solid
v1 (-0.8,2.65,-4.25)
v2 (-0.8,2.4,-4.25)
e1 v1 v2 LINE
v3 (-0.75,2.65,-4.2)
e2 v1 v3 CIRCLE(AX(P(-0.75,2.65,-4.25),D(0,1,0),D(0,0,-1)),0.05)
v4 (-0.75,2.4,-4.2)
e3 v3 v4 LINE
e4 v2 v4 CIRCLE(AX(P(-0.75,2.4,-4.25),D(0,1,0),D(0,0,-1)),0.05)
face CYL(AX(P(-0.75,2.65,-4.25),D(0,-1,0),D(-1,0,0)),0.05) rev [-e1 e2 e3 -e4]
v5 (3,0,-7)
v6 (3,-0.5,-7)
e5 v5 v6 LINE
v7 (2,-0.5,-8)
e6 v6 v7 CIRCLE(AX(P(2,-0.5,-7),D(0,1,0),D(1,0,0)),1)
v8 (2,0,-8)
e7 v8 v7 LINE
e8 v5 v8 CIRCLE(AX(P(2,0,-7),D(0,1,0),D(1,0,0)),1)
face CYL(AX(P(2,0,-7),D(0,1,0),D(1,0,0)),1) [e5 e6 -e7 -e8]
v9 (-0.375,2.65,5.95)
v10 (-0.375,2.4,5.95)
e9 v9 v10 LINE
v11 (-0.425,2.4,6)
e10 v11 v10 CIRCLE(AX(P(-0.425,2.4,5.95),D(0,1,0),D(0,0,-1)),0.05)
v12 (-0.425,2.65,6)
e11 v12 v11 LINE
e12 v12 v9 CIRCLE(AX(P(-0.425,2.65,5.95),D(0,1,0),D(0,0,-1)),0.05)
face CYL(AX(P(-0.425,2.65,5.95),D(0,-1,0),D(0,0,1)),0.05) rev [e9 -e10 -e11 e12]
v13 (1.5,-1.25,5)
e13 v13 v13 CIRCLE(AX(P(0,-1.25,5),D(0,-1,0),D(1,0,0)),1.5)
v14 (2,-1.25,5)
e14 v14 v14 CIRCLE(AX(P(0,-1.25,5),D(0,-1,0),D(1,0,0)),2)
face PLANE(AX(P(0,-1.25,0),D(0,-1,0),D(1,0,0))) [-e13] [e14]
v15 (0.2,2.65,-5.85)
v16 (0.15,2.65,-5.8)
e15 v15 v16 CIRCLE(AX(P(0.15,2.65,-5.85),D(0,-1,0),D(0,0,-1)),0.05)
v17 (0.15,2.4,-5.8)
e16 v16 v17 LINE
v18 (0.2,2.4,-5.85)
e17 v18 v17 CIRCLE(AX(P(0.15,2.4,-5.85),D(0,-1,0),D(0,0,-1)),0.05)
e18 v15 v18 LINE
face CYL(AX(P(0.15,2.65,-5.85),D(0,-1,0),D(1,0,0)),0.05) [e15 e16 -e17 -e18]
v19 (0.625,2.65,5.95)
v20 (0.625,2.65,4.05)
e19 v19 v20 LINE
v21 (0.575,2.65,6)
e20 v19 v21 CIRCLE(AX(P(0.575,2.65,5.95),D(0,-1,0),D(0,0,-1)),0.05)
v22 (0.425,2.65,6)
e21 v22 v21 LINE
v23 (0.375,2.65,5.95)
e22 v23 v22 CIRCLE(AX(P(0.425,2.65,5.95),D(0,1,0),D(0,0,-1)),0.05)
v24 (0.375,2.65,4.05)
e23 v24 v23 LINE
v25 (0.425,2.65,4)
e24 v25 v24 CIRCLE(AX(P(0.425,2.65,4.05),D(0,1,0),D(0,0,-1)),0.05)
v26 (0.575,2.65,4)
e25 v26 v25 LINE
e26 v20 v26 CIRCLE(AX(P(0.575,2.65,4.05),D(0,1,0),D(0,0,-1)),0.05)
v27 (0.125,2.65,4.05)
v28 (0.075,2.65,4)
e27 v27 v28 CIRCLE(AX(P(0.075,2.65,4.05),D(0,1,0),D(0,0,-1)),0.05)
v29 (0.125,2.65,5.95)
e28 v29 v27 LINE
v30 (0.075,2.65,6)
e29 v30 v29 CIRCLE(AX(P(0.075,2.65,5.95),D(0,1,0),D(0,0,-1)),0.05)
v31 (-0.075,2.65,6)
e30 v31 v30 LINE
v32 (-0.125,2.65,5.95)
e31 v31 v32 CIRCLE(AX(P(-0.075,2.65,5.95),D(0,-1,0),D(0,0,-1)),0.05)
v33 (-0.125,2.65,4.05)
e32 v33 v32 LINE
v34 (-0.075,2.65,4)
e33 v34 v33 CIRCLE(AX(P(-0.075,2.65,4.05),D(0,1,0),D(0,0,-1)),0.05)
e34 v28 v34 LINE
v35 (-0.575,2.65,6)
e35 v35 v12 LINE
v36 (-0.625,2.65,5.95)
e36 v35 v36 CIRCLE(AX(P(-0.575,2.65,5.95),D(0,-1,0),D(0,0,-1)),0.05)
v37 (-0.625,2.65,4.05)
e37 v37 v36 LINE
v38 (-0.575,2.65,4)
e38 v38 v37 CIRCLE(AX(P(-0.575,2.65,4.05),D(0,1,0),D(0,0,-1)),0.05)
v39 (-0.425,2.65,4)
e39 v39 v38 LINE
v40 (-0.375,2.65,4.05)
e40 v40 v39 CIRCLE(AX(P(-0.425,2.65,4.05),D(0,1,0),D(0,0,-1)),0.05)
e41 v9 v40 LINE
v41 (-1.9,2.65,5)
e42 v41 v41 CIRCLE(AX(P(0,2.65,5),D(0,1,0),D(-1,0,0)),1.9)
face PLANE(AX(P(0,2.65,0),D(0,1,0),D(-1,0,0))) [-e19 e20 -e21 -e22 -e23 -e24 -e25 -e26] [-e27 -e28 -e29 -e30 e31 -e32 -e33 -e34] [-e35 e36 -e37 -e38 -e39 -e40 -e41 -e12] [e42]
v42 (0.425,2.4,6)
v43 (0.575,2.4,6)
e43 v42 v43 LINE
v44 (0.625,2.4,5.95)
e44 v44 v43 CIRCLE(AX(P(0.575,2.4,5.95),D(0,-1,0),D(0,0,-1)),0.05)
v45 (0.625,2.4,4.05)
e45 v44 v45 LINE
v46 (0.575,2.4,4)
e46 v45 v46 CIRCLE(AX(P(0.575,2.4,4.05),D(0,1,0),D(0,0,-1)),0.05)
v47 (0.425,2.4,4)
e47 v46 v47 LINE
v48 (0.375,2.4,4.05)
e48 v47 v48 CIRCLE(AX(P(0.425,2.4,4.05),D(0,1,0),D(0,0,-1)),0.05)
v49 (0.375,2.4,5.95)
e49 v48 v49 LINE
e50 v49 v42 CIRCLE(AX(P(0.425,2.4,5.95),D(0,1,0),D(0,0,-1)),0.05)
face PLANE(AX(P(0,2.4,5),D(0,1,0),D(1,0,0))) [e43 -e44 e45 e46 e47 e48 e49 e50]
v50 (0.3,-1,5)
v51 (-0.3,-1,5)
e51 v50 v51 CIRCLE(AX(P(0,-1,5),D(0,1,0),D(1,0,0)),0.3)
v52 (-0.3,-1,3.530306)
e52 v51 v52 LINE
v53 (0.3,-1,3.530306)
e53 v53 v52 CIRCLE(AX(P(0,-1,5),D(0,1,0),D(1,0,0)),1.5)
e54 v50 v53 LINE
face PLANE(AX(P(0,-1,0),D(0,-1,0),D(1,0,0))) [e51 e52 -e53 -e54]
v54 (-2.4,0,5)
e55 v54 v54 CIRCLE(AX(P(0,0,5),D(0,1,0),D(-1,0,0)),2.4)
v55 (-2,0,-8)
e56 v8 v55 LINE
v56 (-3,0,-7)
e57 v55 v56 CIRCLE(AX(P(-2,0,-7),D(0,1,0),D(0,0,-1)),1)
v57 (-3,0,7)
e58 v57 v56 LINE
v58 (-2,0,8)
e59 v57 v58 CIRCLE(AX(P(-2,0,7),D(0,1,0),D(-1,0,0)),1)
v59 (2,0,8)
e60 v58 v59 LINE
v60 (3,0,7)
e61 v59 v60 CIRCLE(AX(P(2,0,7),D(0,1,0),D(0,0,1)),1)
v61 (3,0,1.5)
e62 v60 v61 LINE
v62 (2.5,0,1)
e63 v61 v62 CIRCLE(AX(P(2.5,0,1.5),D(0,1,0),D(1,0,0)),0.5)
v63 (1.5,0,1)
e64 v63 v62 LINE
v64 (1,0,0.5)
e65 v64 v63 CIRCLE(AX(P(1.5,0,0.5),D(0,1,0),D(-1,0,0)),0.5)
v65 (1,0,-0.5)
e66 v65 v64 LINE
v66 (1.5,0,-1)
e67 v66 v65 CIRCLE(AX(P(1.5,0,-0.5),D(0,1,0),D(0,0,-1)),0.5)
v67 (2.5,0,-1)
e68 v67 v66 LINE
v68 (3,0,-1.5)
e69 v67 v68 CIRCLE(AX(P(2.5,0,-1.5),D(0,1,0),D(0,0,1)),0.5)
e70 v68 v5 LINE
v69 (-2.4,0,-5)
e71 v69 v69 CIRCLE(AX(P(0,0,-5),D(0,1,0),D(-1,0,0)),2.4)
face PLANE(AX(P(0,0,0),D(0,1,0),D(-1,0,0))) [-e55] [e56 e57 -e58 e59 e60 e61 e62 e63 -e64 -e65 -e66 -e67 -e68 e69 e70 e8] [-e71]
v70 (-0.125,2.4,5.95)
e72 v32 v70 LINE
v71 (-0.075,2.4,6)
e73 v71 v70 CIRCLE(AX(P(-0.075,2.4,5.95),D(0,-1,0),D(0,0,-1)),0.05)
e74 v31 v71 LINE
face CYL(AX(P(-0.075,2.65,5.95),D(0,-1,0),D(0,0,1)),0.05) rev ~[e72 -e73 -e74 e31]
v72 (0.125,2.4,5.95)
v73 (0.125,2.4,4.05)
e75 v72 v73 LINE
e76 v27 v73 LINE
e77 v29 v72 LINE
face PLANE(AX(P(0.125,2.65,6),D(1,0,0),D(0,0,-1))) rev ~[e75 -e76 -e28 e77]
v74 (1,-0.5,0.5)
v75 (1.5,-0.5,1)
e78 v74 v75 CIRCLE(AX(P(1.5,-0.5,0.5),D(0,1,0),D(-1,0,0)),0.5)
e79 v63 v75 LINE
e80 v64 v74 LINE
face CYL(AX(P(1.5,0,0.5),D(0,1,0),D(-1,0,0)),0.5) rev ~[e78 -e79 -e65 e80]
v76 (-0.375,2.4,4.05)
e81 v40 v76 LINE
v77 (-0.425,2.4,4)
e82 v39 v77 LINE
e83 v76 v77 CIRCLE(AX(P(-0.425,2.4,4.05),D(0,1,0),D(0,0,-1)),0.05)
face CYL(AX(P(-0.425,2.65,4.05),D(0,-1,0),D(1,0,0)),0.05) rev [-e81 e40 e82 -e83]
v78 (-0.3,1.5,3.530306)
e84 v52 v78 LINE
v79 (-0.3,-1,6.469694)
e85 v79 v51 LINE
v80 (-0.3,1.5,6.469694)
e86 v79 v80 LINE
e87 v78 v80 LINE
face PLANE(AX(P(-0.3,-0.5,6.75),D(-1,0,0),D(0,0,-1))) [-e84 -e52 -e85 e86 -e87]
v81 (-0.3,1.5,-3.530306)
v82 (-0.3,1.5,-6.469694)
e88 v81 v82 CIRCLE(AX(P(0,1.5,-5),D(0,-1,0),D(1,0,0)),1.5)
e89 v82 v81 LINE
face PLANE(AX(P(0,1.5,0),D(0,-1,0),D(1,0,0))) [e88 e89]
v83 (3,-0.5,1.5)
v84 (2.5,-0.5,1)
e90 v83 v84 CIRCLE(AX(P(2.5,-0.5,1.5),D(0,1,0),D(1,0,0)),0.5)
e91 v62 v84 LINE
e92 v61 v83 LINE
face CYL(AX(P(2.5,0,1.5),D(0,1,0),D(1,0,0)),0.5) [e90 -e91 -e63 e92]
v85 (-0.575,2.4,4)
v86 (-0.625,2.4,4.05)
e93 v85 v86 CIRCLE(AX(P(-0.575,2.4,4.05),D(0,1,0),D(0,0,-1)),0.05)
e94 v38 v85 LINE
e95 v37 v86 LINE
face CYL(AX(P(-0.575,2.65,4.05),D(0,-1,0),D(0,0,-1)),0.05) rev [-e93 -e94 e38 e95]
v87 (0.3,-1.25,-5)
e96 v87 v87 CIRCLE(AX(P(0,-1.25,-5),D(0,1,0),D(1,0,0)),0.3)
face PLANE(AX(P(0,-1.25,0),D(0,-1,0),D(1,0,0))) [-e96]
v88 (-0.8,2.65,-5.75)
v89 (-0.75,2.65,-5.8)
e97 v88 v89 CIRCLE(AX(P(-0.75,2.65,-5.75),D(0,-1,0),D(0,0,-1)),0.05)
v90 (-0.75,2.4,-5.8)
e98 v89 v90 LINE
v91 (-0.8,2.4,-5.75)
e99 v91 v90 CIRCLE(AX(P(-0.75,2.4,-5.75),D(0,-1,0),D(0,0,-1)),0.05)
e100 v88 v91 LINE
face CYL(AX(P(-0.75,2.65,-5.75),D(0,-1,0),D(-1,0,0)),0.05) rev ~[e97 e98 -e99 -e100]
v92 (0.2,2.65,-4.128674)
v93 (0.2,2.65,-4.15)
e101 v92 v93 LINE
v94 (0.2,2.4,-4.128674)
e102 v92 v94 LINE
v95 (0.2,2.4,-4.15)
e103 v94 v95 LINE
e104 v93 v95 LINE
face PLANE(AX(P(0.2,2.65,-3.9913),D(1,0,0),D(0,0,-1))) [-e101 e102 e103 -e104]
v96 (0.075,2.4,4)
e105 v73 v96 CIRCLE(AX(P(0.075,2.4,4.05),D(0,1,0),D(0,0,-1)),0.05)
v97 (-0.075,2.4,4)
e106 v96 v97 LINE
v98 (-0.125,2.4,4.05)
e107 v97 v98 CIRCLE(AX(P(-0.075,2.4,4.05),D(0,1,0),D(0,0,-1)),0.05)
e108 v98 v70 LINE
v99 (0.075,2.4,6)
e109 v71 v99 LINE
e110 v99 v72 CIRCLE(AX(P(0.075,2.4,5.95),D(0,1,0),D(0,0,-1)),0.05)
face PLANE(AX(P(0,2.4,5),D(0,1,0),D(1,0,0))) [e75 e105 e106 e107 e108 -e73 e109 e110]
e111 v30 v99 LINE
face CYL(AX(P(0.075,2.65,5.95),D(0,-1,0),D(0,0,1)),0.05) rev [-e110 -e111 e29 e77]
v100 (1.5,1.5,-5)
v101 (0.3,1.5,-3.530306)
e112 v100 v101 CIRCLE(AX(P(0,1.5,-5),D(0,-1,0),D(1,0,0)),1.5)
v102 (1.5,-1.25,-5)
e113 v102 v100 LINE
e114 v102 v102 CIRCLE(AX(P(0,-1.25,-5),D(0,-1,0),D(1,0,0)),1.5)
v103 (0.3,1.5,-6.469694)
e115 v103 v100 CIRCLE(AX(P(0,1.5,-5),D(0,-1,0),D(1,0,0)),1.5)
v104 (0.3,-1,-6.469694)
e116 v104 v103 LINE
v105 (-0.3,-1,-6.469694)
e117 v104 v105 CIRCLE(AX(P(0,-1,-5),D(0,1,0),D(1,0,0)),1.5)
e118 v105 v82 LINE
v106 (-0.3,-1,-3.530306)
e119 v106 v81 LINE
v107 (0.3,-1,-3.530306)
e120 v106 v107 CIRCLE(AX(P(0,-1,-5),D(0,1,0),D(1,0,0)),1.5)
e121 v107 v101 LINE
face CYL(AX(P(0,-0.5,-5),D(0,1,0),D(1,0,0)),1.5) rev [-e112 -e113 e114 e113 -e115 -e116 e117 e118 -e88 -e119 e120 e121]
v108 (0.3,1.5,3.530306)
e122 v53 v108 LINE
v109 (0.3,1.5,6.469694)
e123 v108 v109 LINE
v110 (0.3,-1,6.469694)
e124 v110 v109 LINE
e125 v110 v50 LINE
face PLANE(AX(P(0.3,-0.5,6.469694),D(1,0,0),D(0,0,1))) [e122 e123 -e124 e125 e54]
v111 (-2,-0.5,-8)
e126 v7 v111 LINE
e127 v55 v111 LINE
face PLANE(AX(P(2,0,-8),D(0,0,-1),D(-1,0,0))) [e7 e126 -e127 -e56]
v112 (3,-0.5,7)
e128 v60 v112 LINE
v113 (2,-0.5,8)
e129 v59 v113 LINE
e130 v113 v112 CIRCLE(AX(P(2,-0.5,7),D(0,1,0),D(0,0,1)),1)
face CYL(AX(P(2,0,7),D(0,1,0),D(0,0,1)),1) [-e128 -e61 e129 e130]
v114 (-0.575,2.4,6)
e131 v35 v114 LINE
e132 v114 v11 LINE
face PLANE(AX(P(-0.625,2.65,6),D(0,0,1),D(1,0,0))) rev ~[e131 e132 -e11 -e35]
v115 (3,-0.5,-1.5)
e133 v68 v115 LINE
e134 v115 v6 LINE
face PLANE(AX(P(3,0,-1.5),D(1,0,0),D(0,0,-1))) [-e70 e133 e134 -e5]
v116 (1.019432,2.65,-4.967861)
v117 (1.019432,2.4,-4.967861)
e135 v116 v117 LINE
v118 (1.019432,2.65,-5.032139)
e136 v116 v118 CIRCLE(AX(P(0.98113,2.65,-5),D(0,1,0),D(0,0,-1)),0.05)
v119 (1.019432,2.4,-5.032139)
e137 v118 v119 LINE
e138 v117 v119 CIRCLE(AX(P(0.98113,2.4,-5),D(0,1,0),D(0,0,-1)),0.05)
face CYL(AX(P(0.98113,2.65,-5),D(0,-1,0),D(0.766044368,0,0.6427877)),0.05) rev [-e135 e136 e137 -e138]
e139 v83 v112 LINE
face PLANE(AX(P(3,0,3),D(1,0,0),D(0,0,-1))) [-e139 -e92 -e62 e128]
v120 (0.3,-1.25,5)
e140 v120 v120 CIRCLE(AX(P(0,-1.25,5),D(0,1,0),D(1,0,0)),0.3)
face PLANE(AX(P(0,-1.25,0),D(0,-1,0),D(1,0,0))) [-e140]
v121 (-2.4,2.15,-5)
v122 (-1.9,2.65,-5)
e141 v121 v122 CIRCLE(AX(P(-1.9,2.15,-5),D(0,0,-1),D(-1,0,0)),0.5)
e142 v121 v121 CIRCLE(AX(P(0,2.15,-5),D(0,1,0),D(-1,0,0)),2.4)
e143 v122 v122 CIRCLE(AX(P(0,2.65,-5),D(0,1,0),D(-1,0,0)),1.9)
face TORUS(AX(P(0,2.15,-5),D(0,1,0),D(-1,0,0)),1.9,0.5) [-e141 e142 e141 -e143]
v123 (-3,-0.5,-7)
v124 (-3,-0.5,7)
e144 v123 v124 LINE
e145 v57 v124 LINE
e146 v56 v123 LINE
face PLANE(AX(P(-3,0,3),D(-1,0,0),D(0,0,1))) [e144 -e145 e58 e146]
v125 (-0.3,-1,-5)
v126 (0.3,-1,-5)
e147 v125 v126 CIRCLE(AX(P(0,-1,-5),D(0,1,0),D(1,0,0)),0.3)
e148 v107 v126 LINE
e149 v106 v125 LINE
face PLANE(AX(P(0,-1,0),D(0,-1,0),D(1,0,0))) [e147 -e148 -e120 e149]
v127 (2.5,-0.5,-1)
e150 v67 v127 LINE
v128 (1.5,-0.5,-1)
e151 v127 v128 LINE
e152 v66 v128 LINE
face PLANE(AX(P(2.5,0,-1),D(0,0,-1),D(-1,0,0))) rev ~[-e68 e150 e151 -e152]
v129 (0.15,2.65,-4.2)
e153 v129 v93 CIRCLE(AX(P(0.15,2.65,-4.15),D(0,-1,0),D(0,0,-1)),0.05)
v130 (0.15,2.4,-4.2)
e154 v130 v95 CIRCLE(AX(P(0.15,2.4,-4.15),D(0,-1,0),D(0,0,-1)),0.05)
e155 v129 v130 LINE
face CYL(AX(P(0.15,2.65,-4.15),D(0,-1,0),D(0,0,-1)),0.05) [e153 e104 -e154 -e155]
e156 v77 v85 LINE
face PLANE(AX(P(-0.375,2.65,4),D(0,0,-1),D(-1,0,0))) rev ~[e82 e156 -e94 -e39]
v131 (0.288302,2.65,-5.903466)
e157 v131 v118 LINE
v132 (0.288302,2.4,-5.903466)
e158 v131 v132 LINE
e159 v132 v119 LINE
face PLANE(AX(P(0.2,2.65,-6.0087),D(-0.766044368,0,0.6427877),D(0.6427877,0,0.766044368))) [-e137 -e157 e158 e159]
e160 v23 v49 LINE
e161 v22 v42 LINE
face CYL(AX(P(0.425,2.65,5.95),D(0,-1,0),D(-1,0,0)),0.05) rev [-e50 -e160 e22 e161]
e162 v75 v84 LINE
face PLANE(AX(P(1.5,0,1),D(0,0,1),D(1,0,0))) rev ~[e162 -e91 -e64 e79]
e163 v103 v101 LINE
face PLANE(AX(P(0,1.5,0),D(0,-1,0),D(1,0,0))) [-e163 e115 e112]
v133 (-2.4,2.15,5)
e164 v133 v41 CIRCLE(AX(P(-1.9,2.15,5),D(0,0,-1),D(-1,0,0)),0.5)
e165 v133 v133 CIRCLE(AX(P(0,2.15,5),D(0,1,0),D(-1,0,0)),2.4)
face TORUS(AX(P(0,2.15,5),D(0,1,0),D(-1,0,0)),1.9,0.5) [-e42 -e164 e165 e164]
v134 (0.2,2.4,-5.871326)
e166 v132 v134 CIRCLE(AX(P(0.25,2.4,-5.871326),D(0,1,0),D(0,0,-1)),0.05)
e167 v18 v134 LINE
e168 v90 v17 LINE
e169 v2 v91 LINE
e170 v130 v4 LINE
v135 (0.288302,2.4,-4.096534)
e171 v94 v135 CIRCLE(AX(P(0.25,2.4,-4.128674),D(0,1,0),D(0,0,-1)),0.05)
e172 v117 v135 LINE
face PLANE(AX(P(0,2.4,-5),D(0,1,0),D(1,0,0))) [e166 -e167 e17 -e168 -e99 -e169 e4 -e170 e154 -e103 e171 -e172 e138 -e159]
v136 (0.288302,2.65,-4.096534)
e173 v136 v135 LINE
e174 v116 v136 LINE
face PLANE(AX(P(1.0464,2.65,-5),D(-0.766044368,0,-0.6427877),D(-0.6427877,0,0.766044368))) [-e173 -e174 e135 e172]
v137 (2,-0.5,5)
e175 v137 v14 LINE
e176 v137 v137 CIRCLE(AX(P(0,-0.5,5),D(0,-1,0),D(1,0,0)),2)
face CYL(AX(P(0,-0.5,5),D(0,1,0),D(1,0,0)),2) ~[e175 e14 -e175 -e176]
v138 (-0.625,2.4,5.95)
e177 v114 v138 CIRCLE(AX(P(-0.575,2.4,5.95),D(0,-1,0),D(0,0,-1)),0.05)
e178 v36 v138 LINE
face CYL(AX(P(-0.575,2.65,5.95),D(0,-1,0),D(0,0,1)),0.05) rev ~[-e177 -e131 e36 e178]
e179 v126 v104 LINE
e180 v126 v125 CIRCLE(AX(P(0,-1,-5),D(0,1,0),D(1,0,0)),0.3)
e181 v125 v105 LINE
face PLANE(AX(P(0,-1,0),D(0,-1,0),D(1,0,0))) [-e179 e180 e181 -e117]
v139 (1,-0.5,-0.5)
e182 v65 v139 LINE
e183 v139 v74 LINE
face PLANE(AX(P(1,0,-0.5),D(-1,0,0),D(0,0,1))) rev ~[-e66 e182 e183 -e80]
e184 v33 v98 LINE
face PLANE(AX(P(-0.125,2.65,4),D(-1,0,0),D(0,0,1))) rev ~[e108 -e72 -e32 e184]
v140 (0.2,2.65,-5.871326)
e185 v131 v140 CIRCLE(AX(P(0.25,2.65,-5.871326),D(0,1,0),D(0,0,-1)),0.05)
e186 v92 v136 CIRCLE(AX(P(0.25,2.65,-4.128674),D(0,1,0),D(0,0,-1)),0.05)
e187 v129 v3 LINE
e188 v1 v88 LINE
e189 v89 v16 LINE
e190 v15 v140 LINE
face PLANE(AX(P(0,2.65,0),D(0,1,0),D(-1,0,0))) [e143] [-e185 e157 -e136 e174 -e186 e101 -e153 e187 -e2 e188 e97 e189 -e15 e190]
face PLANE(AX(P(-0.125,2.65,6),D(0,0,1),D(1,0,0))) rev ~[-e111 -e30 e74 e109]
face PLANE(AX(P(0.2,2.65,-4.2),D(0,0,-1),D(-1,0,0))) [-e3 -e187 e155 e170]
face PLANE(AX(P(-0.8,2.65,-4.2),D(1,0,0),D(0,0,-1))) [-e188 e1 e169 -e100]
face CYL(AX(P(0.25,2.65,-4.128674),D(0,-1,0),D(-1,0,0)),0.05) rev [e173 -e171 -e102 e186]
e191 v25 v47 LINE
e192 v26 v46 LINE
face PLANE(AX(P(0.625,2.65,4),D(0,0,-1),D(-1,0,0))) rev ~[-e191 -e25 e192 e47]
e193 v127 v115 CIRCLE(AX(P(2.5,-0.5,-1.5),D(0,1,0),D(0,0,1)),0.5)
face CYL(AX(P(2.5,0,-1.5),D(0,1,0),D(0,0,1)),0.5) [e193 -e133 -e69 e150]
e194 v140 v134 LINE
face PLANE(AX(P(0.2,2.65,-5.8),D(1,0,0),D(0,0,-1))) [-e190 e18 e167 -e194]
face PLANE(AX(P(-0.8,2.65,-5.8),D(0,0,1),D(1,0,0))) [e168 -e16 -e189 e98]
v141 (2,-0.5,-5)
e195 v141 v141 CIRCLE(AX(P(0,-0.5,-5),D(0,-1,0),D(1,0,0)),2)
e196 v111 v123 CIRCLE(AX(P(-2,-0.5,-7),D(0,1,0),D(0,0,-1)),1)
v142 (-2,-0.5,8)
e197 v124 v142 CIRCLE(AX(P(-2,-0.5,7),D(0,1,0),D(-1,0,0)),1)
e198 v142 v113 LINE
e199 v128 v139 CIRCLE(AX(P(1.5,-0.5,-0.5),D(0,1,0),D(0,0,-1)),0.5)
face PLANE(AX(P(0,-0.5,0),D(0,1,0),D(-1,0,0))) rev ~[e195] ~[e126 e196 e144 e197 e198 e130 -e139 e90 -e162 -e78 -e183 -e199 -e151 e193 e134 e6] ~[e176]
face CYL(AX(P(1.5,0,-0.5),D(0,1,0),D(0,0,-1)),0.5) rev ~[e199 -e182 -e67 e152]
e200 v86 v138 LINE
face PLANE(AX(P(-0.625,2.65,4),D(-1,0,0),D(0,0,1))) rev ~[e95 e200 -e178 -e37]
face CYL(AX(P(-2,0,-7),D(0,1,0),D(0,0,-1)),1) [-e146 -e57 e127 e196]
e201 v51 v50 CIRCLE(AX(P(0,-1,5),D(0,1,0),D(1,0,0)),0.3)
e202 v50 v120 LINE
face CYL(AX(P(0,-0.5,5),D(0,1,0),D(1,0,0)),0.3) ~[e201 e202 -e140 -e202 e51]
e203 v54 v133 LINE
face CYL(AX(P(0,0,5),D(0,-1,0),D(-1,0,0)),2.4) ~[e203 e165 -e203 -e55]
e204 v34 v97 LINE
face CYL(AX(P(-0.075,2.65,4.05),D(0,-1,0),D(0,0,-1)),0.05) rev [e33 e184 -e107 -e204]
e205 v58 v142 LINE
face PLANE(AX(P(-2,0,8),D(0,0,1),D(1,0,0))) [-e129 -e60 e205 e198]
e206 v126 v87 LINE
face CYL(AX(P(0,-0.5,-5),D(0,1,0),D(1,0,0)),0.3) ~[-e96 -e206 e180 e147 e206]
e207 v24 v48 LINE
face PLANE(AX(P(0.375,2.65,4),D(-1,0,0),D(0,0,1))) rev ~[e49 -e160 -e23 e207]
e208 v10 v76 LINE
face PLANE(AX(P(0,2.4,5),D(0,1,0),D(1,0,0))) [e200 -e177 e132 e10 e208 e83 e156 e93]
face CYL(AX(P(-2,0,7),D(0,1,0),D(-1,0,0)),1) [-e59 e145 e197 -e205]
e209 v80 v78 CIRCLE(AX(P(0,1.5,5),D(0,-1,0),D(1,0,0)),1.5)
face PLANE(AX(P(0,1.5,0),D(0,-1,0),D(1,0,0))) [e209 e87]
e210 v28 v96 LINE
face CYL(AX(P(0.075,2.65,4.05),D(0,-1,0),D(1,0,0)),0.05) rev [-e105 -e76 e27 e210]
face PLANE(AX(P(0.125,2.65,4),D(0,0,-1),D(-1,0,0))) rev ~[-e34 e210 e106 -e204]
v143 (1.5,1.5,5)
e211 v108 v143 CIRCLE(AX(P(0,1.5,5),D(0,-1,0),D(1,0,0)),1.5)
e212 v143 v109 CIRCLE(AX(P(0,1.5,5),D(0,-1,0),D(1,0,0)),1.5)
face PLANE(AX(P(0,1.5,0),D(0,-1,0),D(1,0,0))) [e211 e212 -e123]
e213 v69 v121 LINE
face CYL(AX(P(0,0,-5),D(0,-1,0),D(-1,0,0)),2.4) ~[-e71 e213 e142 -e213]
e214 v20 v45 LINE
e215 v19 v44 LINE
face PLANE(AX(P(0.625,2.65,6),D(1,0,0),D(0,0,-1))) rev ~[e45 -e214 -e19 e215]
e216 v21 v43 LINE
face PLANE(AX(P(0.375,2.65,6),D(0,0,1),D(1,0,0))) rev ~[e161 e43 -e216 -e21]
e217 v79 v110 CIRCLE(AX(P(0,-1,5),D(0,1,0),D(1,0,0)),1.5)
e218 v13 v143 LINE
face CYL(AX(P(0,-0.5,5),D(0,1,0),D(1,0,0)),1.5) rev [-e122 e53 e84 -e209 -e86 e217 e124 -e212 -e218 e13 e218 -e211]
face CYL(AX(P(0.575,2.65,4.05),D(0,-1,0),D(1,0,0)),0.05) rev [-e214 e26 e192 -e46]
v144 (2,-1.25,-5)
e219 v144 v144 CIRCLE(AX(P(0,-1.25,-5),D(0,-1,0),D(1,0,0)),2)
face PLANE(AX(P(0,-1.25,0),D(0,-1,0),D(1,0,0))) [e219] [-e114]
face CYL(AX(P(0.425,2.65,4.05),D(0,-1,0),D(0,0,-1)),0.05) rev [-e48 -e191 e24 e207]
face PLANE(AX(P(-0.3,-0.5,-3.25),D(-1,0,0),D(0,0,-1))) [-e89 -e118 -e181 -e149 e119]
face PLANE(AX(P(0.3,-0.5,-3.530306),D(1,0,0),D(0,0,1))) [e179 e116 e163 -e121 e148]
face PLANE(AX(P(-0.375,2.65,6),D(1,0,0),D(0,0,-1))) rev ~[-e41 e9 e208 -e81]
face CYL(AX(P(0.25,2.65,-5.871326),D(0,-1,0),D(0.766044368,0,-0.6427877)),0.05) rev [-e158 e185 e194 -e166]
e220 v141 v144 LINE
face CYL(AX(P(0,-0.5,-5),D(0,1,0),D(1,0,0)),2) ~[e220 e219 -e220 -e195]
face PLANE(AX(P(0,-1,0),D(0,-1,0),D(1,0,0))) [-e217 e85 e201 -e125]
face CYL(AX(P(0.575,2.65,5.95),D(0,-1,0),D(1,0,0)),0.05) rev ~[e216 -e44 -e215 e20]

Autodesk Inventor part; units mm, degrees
ref_plane "YZ Plane" through (0, 0, 0) normal (1, 0, 0) x (0, 1, 0)
ref_plane "XZ Plane" through (0, 0, 0) normal (0, 1, 0) x (-1, 0, 0)
ref_plane "XY Plane" through (0, 0, 0) normal (0, 0, 1) x (1, 0, 0)
sketch "Sketch1" plane through (0, 0, 0) normal (0, 1, 0) x (-1, 0, 0)
  line L0 (2, 8) -> (-2, 8)
  line L1 (-3, 7) -> (-3, 3)
  line L2 (-2, -8) -> (2, -8)
  line L3 (3, -7) -> (3, 7)
  circle A0 centre (0, 5) radius 2.4
  circle A1 centre (0, -5) radius 2.4
  arc A2 (3, 7) -> (2, 8) centre (2, 7) ccw
  arc A3 (-2, 8) -> (-3, 7) centre (-2, 7) ccw
  arc A4 (-3, -7) -> (-2, -8) centre (-2, -7) ccw
  arc A5 (2, -8) -> (3, -7) centre (2, -7) ccw
  line L4 (2, 2) -> (2, 2)
  line L5 (2, -2) -> (2, -2)
  line L6 (-2, 2) -> (-2, 2)
  line L7 (-2, -2) -> (-2, -2)
  line L8 (3, 3) -> (3, 7)
  line L9 (-3, 7) -> (-3, 1.5)
  line L10 (-2.5, -1) -> (-1.5, -1)
  line L11 (-1, -0.5) -> (-1, 0.5)
  line L12 (-1.5, 1) -> (-2.5, 1)
  line L13 (-3, -1.5) -> (-3, -7)
  arc A6 (-2.5, -1) -> (-3, -1.5) centre (-2.5, -1.5) ccw
  arc A7 (-3, 1.5) -> (-2.5, 1) centre (-2.5, 1.5) ccw
  arc A8 (-1.5, -1) -> (-1, -0.5) centre (-1.5, -0.5) ccw
  arc A9 (-1, 0.5) -> (-1.5, 1) centre (-1.5, 0.5) ccw
  point P0 (0, 0)
  point P1 (-3, -8)
  point P2 (-3, 8)
  point P3 (3, -8)
  point P4 (1, -2)
  point P5 (1, 2)
  point P6 (3, -2)
  point P7 (-3, 2)
  point P8 (-1, -2)
  point P9 (-3, -2)
  point P10 (-3, -1)
  point P11 (-1, 1)
  point P12 (-1, -1)
  point P13 (-3, 1)
  dimension "d0" = 6
  dimension "d1" = 16
  dimension "d2" = 4.8
  dimension "d3" = 4.8
  dimension "d5" = 3
  dimension "d6" = 1
  dimension "d7" = 2
  dimension "d8" = 4
  dimension "d9" = 2
  dimension "d70" = 2
  dimension "d71" = 2
  dimension "d72" = 0.5
extrude "Extrusion1" add sketch "Sketch1" against normal blind 0.5 contours A2 L3 A5 L2 A4 L13 A6 L10 A8 L11 A9 L12 A7 L9 L1 A3 L0 | A0 | A1
extrude "Extrusion2" add sketch "Sketch1" along normal blind 2.65 contours A0 | A1
fillet "Fillet1" radius 0.5 2 edges at (2.4, 2.65, 5) (2.4, 2.65, -5)
sketch "Sketch2" plane through (0, -0.5, 0) normal (0, -1, 0) x (1, 0, 0)
  circle A0 centre (0, 5) radius 1.5
  circle A1 centre (0, -5) radius 1.5
  circle A2 centre (0, 5) radius 2
  circle A3 centre (0, -5) radius 2
  point P0 (0, 0)
  dimension "d18" = 3
  dimension "d19" = 3
  dimension "d22" = 4
  dimension "d23" = 4
extrude "Extrusion3" cut sketch "Sketch2" against normal blind 2 contours A0 | A1
extrude "Extrusion4" add sketch "Sketch2" along normal blind 0.75
sketch "Sketch4" plane through (0, -0.5, 0) normal (0, -1, 0) x (1, 0, 0)
  line L0 (0.3, 6.75) -> (-0.3, 6.75)
  line L1 (-0.3, 6.75) -> (-0.3, 3.25)
  line L2 (-0.3, 3.25) -> (0.3, 3.25)
  line L3 (0.3, 3.25) -> (0.3, 6.75)
  line L4 (0.3, -3.25) -> (-0.3, -3.25)
  line L5 (-0.3, -3.25) -> (-0.3, -6.75)
  line L6 (-0.3, -6.75) -> (0.3, -6.75)
  line L7 (0.3, -6.75) -> (0.3, -3.25)
  circle A0 centre (0, 5) radius 1.5 projected
  circle A1 centre (0, -5) radius 1.5 projected
  circle A2 centre (0, 5) radius 0.3
  circle A3 centre (0, -5) radius 0.3
  point P0 (0, 0)
  dimension "d26" = 0.6
  dimension "d27" = 3.5
  dimension "d28" = 0.6
  dimension "d29" = 3.5
  dimension "d32" = 1.2
  dimension "d33" = 1.2
  dimension "d34" = 0.6
  dimension "d35" = 0.6
extrude "Extrusion5" add sketch "Sketch4" against normal blind 2 and the other way blind 0.5 contours L3 A0 L1 L0 | L3 A2 L1 A0 | A2 | L3 A0 L1 A2 | A0 L3 L2 L1 | L7 A1 L5 L4 | L7 A3 L5 A1 | A3 | L7 A1 L5 A3 | A1 L7 L6 L5
extrude "Extrusion6" add sketch "Sketch4" along normal blind 0.75 contours A2 | A3
sketch "Sketch6" plane through (0, 2.65, 5) normal (0, 1, 0) x (1, 0, 0)
  line L0 (0.625, 1) -> (0.375, 1)
  line L1 (0.375, 1) -> (0.375, -1)
  line L2 (0.375, -1) -> (0.625, -1)
  line L3 (0.625, -1) -> (0.625, 1)
  line L4 (0.125, -1) -> (0.125, 1)
  line L5 (0.125, 1) -> (-0.125, 1)
  line L6 (-0.125, 1) -> (-0.125, -1)
  line L7 (-0.125, -1) -> (0.125, -1)
  line L8 (-0.375, -1) -> (-0.375, 1)
  line L9 (-0.375, 1) -> (-0.625, 1)
  line L10 (-0.625, 1) -> (-0.625, -1)
  line L11 (-0.625, -1) -> (-0.375, -1)
  point P0 (0, 5)
  point P1 (0, 0)
  dimension "d47" = 0.25
  dimension "d48" = 2
  dimension "d50" = 1
  dimension "d54" = 0.5
  dimension "d59" = 0.625
sketch "Sketch5" plane through (0, 2.65, -5) normal (0, 1, 0) x (1, 0, 0)
  line L0 (-0.8, 0.8) -> (0.2, 0.8)
  line L1 (0.2, -0.8) -> (-0.8, -0.8)
  line L2 (-0.8, -0.8) -> (-0.8, 0.8)
  line L3 (0.2, 0.8) -> (0.2, 1.0087)
  line L4 (0.2, 1.0087) -> (1.0464, 0)
  line L5 (1.0464, 0) -> (0.2, -1.0087)
  line L6 (0.2, -1.0087) -> (0.2, -0.8)
  point P0 (0, -5)
  point P1 (0, 0)
  point P2 (0, 0)
  dimension "d40" = 40
  dimension "d41" = 100
  dimension "d43" = 1.6
  dimension "d44" = 1
  dimension "d62" = 0.8
  dimension "d69" = 0.8
extrude "Extrusion7" cut sketch "Sketch5" against normal blind 0.25
extrude "Extrusion8" cut sketch "Sketch6" against normal blind 0.25
fillet "Fillet6" radius 0.05 7 edges at (-0.8, 2.525, -5.8) (0.2, 2.525, -5.8) (0.2, 2.525, -6.0087) (1.0464, 2.525, -5) (0.2, 2.525, -3.9913) (0.2, 2.525, -4.2) (-0.8, 2.525, -4.2)
fillet "Fillet9" radius 0.05 12 edges at (0.625, 2.525, 6) (0.125, 2.525, 6) (-0.375, 2.525, 6) (0.625, 2.525, 4) (0.125, 2.525, 4) (-0.375, 2.525, 4) (0.375, 2.525, 4) (-0.125, 2.525, 4) (-0.625, 2.525, 4) (0.375, 2.525, 6) (-0.125, 2.525, 6) (-0.625, 2.525, 6)
properties part number "system-buttons"
